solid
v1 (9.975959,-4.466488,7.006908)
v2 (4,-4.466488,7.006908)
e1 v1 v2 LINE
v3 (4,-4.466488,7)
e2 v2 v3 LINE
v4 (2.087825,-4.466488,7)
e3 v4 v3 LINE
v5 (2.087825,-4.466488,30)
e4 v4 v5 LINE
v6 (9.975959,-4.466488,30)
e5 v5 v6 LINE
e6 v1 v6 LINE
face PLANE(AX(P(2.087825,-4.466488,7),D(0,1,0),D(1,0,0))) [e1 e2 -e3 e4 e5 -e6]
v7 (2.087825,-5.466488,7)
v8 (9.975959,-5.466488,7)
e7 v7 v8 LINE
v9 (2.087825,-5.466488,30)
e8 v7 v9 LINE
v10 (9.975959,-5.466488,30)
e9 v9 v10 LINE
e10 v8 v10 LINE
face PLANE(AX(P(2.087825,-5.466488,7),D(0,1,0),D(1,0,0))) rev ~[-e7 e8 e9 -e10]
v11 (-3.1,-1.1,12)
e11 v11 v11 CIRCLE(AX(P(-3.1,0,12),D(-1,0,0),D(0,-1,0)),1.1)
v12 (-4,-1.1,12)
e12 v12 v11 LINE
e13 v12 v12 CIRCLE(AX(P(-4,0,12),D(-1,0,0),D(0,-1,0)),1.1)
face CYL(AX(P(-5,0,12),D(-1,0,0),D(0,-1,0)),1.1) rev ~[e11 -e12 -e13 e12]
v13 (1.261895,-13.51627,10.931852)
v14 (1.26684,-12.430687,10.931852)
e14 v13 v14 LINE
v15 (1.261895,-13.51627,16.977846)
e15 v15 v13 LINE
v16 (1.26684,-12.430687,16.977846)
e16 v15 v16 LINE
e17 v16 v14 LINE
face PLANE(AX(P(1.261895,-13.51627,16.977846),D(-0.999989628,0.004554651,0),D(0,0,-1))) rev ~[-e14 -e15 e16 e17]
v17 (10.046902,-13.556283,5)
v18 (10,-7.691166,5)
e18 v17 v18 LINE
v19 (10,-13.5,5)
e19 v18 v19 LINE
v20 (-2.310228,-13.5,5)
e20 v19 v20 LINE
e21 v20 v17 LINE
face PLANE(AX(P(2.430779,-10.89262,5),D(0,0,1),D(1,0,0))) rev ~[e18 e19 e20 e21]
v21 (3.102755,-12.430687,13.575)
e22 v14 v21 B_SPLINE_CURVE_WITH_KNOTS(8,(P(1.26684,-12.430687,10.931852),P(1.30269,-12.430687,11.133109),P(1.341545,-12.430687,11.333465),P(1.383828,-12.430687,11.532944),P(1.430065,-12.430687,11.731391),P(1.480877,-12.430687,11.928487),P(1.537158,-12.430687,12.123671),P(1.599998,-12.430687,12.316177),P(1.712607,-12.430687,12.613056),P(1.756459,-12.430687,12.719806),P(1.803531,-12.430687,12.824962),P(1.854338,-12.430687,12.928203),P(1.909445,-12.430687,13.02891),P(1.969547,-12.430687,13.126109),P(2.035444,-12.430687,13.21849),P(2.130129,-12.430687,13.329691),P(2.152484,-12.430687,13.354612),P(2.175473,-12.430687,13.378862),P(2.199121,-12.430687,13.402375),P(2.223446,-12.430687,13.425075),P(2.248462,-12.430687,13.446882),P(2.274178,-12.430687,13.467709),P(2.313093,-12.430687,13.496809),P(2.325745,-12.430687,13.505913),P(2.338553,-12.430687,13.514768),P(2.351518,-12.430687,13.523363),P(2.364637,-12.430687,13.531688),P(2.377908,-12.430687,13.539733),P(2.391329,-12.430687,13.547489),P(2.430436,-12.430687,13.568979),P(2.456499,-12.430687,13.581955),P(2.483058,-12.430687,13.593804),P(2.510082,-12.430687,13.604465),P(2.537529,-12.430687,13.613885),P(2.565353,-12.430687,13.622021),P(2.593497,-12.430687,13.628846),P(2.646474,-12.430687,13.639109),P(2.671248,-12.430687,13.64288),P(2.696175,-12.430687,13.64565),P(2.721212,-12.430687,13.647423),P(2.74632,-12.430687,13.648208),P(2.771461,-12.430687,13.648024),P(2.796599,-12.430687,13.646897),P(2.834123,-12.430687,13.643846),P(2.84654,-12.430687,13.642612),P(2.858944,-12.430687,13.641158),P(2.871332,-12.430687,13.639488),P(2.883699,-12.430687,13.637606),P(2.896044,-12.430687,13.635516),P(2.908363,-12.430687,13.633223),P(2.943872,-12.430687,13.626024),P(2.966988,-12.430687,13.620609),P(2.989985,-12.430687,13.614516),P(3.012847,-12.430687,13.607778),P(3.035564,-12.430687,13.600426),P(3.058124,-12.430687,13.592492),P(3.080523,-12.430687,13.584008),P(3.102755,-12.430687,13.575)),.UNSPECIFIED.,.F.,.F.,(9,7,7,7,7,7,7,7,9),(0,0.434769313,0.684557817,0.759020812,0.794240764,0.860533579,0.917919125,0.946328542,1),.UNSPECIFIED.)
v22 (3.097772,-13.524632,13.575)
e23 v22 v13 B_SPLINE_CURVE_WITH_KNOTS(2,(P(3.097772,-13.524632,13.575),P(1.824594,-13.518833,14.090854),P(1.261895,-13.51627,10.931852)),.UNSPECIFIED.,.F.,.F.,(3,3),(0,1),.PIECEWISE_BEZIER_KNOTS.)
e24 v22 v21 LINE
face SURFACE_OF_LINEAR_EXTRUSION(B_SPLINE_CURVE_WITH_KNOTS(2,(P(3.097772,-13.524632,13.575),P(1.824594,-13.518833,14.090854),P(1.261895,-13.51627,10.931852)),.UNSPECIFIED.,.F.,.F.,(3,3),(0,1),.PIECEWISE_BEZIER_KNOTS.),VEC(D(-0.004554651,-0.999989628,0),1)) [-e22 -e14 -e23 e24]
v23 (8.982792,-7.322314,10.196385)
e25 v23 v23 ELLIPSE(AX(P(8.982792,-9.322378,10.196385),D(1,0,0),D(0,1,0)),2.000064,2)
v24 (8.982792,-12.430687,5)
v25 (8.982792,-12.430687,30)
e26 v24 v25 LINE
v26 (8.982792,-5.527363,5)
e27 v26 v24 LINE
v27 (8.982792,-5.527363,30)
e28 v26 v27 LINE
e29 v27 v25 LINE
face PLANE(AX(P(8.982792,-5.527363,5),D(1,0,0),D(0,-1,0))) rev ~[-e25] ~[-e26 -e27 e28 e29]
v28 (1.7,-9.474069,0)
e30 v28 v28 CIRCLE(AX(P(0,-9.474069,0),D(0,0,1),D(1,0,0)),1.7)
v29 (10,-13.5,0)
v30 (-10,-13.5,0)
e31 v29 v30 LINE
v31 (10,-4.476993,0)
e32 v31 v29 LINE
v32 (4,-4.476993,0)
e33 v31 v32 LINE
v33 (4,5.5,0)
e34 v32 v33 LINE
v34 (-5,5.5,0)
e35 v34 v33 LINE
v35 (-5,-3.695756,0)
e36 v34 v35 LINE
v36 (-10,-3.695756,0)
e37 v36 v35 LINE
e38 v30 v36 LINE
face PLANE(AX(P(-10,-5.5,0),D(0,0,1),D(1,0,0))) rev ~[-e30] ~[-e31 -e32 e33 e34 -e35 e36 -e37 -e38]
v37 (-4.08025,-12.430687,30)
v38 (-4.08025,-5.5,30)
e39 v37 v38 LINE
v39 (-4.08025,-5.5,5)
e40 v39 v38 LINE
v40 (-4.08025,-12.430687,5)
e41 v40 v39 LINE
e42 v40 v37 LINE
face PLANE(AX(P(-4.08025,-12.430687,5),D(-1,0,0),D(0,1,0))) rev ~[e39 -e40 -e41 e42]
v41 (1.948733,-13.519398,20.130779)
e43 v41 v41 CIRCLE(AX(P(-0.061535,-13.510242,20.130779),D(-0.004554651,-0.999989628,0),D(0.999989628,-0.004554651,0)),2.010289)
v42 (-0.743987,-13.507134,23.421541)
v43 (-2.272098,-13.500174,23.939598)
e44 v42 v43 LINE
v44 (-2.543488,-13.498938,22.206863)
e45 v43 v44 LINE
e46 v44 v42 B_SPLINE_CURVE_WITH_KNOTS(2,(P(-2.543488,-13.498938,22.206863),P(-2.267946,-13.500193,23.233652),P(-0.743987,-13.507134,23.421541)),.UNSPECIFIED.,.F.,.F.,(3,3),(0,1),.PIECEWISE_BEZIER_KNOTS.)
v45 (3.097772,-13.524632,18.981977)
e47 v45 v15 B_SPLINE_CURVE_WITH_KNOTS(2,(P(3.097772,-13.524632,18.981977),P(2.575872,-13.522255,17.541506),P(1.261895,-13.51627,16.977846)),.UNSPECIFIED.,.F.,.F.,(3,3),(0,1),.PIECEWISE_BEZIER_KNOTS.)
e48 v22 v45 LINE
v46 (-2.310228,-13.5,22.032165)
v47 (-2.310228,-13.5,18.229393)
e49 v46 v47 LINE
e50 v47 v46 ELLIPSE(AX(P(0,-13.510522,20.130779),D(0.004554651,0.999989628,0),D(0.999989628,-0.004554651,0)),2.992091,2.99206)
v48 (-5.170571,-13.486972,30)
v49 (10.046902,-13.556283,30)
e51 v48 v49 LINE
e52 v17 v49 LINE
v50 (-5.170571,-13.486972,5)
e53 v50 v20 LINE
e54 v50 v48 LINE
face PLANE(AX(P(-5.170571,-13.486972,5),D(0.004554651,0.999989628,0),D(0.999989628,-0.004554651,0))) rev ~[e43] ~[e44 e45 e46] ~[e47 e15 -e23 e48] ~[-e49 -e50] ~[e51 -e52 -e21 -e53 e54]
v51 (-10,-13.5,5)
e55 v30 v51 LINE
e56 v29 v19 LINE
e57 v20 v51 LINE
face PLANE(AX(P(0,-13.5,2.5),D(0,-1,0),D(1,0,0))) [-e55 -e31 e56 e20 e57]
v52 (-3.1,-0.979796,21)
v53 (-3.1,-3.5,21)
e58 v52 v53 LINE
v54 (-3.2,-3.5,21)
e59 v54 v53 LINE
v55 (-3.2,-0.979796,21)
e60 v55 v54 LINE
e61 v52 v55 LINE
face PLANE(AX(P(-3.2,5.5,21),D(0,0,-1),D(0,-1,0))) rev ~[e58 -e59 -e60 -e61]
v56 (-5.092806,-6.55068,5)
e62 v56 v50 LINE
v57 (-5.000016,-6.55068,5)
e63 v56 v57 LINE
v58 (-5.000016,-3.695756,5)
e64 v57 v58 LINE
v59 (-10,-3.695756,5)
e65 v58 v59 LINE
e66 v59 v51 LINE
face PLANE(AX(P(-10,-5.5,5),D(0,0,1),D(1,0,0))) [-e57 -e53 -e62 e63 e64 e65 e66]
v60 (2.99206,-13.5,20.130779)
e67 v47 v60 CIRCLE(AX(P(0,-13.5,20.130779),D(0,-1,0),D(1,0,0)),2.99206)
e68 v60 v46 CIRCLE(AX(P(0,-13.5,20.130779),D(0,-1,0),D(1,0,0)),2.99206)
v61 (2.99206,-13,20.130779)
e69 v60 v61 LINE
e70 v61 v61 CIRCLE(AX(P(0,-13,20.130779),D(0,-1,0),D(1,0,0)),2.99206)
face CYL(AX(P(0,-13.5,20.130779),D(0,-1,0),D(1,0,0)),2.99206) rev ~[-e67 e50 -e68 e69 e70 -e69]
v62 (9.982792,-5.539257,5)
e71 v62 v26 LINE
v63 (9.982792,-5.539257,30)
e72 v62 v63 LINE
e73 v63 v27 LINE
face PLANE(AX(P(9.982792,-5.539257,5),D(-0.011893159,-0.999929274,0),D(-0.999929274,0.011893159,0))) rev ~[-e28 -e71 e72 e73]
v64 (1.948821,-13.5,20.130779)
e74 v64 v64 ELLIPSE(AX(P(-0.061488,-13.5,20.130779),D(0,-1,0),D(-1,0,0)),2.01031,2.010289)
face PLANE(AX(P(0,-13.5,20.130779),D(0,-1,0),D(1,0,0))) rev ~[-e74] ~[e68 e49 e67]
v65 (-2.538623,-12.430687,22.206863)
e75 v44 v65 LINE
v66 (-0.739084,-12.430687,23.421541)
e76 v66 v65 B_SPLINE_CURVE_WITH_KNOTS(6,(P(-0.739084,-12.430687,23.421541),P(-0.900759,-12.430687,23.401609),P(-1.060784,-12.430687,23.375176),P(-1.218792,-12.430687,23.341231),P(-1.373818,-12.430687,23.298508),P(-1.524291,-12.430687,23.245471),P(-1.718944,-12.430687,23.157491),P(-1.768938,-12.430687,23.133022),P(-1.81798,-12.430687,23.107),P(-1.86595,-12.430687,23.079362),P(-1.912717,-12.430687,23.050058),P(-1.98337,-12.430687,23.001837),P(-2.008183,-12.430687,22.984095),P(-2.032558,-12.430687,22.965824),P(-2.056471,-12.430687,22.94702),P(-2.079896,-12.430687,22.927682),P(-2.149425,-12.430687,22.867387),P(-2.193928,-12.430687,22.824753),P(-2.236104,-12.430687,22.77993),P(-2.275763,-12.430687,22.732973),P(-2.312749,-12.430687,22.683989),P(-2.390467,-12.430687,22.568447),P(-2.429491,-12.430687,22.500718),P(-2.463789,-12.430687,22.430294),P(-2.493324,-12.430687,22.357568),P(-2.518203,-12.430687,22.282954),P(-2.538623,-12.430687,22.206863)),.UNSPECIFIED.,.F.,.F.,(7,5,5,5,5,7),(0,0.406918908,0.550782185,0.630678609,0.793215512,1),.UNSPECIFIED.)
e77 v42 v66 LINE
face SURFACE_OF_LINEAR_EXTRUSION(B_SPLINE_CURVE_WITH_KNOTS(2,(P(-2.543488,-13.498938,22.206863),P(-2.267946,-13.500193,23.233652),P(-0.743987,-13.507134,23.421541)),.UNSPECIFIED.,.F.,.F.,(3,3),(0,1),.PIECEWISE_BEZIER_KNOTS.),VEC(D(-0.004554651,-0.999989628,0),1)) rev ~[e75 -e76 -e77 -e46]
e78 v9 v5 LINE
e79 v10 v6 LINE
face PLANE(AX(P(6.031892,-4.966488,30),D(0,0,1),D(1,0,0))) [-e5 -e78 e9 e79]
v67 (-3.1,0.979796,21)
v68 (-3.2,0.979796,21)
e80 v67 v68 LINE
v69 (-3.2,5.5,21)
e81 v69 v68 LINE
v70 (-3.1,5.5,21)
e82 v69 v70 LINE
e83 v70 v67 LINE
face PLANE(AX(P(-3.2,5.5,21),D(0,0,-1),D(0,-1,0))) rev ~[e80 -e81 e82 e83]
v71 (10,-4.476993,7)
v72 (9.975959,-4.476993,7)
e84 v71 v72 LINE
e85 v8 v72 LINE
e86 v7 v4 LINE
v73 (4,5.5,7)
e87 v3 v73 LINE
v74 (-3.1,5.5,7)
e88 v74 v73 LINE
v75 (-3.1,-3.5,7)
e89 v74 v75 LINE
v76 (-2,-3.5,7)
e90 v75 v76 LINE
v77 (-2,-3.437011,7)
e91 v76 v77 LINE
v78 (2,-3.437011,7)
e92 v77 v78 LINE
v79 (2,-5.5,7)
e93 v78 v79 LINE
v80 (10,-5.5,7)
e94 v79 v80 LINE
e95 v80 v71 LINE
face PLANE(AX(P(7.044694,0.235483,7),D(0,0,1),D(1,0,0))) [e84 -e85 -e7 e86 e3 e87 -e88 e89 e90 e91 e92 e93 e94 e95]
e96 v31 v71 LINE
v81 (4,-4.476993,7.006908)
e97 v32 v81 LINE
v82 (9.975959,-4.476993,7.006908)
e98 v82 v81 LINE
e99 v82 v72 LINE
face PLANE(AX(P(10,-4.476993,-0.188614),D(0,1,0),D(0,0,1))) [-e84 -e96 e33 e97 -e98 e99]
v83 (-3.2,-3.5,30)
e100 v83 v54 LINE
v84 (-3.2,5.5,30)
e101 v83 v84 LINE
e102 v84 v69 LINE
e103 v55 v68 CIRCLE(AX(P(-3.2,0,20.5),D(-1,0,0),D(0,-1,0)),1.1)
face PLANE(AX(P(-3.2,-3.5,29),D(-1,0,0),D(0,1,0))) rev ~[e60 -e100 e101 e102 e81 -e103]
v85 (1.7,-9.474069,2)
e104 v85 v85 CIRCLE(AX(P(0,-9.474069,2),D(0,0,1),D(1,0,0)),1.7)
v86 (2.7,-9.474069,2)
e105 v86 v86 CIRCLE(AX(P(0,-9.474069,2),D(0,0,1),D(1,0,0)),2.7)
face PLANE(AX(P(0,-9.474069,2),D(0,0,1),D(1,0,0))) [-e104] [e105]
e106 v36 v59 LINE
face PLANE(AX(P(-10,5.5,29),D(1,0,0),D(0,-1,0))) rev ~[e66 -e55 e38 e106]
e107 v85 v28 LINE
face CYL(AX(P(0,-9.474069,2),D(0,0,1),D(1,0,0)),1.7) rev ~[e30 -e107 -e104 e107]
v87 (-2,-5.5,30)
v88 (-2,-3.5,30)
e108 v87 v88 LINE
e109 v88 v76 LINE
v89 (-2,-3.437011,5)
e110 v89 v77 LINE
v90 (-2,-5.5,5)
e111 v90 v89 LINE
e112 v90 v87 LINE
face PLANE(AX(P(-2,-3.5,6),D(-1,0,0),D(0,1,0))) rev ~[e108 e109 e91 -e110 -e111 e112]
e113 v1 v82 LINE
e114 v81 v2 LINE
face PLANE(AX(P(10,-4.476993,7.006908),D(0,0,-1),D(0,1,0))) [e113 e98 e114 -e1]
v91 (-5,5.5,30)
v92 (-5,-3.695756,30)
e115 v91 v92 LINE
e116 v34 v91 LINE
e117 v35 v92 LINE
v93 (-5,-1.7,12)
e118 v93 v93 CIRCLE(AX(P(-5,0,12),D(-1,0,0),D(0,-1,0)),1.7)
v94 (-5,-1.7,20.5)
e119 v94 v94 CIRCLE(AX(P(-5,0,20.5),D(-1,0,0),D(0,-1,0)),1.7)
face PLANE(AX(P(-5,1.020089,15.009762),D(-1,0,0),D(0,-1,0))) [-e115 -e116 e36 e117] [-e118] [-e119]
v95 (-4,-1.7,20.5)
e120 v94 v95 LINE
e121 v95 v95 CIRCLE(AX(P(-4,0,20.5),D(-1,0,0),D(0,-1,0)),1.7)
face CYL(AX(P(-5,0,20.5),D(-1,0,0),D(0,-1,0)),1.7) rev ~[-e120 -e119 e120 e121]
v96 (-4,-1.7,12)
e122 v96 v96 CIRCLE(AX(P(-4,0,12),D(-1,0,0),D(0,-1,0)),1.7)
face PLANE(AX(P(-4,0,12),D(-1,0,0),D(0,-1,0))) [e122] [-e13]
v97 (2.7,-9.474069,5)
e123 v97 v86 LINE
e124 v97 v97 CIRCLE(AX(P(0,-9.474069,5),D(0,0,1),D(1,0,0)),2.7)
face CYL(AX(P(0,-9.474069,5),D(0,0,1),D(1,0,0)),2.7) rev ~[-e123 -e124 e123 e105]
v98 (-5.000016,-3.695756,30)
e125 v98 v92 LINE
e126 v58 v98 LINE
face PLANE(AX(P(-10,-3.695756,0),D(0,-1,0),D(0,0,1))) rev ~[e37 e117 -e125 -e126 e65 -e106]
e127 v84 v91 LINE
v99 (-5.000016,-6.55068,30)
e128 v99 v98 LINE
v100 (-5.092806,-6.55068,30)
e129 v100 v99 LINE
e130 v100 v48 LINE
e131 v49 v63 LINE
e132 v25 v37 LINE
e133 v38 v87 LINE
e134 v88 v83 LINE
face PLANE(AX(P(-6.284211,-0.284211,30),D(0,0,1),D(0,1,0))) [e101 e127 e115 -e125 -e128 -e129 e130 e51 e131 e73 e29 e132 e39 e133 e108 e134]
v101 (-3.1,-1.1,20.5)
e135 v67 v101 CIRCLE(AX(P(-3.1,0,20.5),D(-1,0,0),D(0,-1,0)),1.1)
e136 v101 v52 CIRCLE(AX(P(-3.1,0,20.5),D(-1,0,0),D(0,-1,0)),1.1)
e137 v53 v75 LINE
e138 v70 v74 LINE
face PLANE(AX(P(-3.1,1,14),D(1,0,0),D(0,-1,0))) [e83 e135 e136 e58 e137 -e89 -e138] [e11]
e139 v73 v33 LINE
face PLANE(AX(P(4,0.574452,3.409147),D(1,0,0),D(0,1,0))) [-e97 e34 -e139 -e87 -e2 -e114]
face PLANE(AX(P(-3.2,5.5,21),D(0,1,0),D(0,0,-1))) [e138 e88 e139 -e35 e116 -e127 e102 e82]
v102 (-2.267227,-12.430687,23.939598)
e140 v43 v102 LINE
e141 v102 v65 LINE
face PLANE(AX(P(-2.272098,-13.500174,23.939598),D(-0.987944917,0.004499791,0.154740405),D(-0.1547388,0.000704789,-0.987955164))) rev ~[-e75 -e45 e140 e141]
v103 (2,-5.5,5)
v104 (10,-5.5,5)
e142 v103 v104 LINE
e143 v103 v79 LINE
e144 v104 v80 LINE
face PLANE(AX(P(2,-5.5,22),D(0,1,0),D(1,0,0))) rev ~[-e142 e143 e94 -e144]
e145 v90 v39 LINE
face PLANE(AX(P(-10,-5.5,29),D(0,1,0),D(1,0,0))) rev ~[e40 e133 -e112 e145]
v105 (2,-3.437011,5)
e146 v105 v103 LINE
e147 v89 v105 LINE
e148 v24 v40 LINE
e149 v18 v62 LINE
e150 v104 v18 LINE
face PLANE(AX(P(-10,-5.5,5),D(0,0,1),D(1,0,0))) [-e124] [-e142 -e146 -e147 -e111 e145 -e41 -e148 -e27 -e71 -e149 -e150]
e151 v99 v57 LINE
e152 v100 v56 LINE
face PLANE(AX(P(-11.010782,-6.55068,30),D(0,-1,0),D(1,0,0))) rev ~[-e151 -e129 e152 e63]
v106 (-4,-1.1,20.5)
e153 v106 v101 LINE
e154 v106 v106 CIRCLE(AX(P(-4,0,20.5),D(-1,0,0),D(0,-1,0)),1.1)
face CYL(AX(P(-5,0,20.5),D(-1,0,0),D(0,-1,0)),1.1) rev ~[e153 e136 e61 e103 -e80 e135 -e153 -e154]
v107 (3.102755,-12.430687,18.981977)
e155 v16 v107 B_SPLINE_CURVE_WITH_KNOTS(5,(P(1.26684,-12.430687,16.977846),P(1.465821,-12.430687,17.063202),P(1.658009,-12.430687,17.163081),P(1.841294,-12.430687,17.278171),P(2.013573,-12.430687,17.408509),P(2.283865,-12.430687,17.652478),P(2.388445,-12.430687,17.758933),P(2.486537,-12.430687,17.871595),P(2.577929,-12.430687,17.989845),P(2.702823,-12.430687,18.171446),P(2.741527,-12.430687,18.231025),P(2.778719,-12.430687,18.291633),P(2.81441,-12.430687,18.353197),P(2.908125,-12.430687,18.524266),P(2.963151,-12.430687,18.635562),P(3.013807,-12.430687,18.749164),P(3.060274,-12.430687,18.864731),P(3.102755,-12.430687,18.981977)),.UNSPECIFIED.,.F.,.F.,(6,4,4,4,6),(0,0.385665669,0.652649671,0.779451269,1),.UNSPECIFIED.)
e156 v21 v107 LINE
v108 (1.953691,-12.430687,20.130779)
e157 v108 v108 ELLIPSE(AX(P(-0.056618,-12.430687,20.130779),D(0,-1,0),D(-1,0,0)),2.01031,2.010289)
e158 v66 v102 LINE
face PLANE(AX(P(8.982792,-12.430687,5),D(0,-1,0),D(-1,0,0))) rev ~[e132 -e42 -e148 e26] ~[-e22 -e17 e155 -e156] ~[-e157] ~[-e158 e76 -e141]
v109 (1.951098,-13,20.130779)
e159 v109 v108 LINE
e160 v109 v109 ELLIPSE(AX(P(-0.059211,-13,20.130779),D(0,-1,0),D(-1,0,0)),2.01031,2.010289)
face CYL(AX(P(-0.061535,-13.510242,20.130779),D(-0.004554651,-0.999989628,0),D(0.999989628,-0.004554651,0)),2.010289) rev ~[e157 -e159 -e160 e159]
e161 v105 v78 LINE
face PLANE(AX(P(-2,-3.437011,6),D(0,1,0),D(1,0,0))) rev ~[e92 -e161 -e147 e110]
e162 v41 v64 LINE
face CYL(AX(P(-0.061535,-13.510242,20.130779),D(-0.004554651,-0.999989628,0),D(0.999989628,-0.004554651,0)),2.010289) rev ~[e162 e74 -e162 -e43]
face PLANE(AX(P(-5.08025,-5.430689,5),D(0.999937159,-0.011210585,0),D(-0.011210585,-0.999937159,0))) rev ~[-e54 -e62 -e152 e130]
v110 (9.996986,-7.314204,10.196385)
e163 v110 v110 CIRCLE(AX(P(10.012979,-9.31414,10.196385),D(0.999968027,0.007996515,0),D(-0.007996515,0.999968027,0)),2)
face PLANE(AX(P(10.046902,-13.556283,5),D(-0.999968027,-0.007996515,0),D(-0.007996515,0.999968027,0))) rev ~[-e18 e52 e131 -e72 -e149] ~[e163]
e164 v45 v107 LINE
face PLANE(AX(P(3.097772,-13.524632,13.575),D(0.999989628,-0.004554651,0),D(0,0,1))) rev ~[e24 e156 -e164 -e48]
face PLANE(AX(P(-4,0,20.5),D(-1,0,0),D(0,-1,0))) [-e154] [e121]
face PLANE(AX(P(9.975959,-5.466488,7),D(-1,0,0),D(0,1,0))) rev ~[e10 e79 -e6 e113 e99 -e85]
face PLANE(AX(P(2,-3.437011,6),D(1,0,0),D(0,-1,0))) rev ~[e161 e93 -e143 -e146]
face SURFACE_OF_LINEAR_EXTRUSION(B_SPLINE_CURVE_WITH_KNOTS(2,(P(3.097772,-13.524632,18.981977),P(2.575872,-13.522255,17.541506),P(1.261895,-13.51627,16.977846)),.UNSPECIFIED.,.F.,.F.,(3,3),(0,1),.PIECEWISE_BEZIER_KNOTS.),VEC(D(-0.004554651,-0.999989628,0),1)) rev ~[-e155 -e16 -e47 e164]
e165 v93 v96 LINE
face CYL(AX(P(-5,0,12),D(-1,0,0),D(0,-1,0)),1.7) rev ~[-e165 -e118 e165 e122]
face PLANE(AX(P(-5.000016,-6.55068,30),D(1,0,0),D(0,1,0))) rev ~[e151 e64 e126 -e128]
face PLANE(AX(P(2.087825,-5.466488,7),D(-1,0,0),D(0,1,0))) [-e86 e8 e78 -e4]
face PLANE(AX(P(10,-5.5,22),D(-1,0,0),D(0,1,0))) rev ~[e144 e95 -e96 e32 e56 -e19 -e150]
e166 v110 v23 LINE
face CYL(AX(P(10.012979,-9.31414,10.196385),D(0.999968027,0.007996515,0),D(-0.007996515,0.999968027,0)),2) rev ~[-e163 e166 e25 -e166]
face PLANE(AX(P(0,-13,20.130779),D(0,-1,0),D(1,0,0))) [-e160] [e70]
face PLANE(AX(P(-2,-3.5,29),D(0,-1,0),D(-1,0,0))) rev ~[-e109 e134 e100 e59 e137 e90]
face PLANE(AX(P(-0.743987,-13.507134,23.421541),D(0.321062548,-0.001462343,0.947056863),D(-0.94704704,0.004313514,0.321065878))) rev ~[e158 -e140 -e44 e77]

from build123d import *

# Parameters (mm, degrees)
SKETCH_W           = 20
SKETCH_H           = 11
PAD_DEPTH          = 21
SKETCH001_W        = 20
SKETCH001_H        = 5
PAD001_DEPTH       = 8
SKETCH002_W        = 6.4
SKETCH002_H        = 9.70104
POCKET_DEPTH       = 16
SKETCH003_W        = 4
SKETCH003_H        = 2.091244
POCKET001_DEPTH    = 16
SKETCH005_R        = 2.7
POCKET002_DEPTH    = 3
SKETCH006_R        = 1.7
POCKET003_DEPTH    = 15
PAD002_DEPTH       = 1
PAD003_DEPTH       = 1
PAD004_DEPTH       = 8
PAD005_DEPTH       = 8
PAD006_DEPTH       = 1
PAD007_DEPTH       = 1
PAD007_FACE27_W    = 9
PAD007_FACE27_H    = 14
PAD008_DEPTH       = 0.1
PAD008_FACE24_W    = 9
PAD008_FACE24_H    = 14
PAD009_DEPTH       = 0.1
SKETCH009_W        = 11.765216
SKETCH009_H        = 12.105414
POCKET007_DEPTH    = 23
SKETCH010_W        = 8
SKETCH010_H        = 5
PAD010_DEPTH       = 6
PAD011_DEPTH       = 25
SKETCH012_W        = 7.888134
SKETCH012_H        = 1
PAD012_DEPTH       = 23
SKETCH014_R        = 2
POCKET008_DEPTH    = 5
SKETCH016_W        = 9.43169
SKETCH016_H        = 30.019524
POCKET010_DEPTH    = 5
SKETCH019_W        = 10.102889
SKETCH019_H        = 7.195522
POCKET012_DEPTH    = 6
SKETCH020_R        = 4.8264255923
POCKET014_DEPTH    = 0.5
POCKET015_DEPTH    = 2
COPYSKETCH024_R    = 1.1
POCKET017_DEPTH    = 3
SKETCH025_R        = 1.7
POCKET018_DEPTH    = 1
SKETCH026_R        = 2.010288662
POCKET019_DEPTH    = 5
COPYSKETCH027_R    = 2.99206
POCKET020_DEPTH    = 0.5
COPYSKETCH027001_W = 6.010766
COPYSKETCH027001_H = 4.360142
POCKET021_DEPTH    = 25


with BuildPart() as part:
    # Sketch → Pad (new body)
    with BuildSketch(Plane.XY):
        Rectangle(SKETCH_W, SKETCH_H)
    extrude(amount=PAD_DEPTH)

    # Sketch001 (on Face1 of Pad) → Pad001 (join)
    with BuildSketch(Plane.XZ.offset(5.5)):
        with Locations((0, 2.5)):
            Rectangle(SKETCH001_W, SKETCH001_H)
    extrude(amount=PAD001_DEPTH)

    # Sketch002 (on Face4 of Pad001) → Pocket (cut)
    with BuildSketch(Plane.XY.offset(21)):
        with Locations((0, 1.35052)):
            Rectangle(SKETCH002_W, SKETCH002_H)
    extrude(amount=-POCKET_DEPTH, mode=Mode.SUBTRACT)

    # Sketch003 (on Face4 of Pocket) → Pocket001 (cut)
    with BuildSketch(Plane.XY.offset(21)):
        with Locations((0, -4.482633)):
            Rectangle(SKETCH003_W, SKETCH003_H)
    extrude(amount=-POCKET001_DEPTH, mode=Mode.SUBTRACT)

    # Sketch005 (on Face5 of Pocket001) → Pocket002 (cut)
    with BuildSketch(Plane.XY.offset(5)):
        with Locations((0, -9.4740693718)):
            Circle(SKETCH005_R)
    extrude(amount=-POCKET002_DEPTH, mode=Mode.SUBTRACT)

    # Sketch006 (on Face24 of Pocket002) → Pocket003 (cut)
    with BuildSketch(Plane.XY.offset(2)):
        with Locations((0, -9.4740693718)):
            Circle(SKETCH006_R)
    extrude(amount=-POCKET003_DEPTH, mode=Mode.SUBTRACT)

    # Pocket003 Face21 → Pad002 (add)
    with BuildSketch(Plane(origin=(0, 1.0196321739, 5), x_dir=(0, 1, 0), z_dir=(0, 0, 1))):
        Polygon((4.4803678261, -3.2), (4.4803678261, 3.2), (-4.5196321739, 3.2), (-4.5196321739, 2), (-4.4566431739, 2), (-4.4566431739, -2), (-4.5196321739, -2), (-4.5196321739, -3.2), align=None)
    extrude(amount=PAD002_DEPTH)

    # Pad002 Face3 → Pad003 (add)
    with BuildSketch(Plane(origin=(6.4756476684, -0.1398963731, 21), x_dir=(0, 1, 0), z_dir=(0, 0, 1))):
        Polygon((-3.3601036269, 4.4756476684), (-5.3601036269, 4.4756476684), (-5.3601036269, -3.5243523316), (5.6398963731, -3.5243523316), (5.6398963731, 3.2756476684), (-3.3601036269, 3.2756476684), align=None)
    extrude(amount=PAD003_DEPTH)

    # Pad003 Face22 → Pad004 (add)
    with BuildSketch(Plane(origin=(-6.4756476684, -0.1398963731, 21), x_dir=(0, 1, 0), z_dir=(0, 0, 1))):
        Polygon((5.6398963731, -3.2756476684), (5.6398963731, 3.5243523316), (-5.3601036269, 3.5243523316), (-5.3601036269, -4.4756476684), (-3.3601036269, -4.4756476684), (-3.3601036269, -3.2756476684), align=None)
    extrude(amount=PAD004_DEPTH)

    # Pad004 Face11 → Pad005 (add)
    with BuildSketch(Plane(origin=(6.4756476684, -0.1398963731, 22), x_dir=(0, 1, 0), z_dir=(0, 0, 1))):
        Polygon((-3.3601036269, 4.4756476684), (-5.3601036269, 4.4756476684), (-5.3601036269, -3.5243523316), (5.6398963731, -3.5243523316), (5.6398963731, 3.2756476684), (-3.3601036269, 3.2756476684), align=None)
    extrude(amount=PAD005_DEPTH)

    # Pad005 Face40 → Pad006 (add)
    with BuildSketch(Plane(origin=(-6.4756476684, -0.1398963731, 29), x_dir=(0, 1, 0), z_dir=(0, 0, 1))):
        Polygon((5.6398963731, -3.2756476684), (5.6398963731, 3.5243523316), (-5.3601036269, 3.5243523316), (-5.3601036269, -4.4756476684), (-3.3601036269, -4.4756476684), (-3.3601036269, -3.2756476684), align=None)
    extrude(amount=PAD006_DEPTH)

    # Pad006 Face33 → Pad007 (add)
    with BuildSketch(Plane(origin=(0, 1.0196321739, 6), x_dir=(0, 1, 0), z_dir=(0, 0, 1))):
        Polygon((4.4803678261, -3.2), (4.4803678261, 3.2), (-4.5196321739, 3.2), (-4.5196321739, 2), (-4.4566431739, 2), (-4.4566431739, -2), (-4.5196321739, -2), (-4.5196321739, -3.2), align=None)
    extrude(amount=PAD007_DEPTH)

    # Pad007 Face27 → Pad008 (add)
    with BuildSketch(Plane(origin=(3.2, 1, 14), x_dir=(0, 1, 0), z_dir=(-1, 0, 0))):
        Rectangle(PAD007_FACE27_W, PAD007_FACE27_H)
    extrude(amount=PAD008_DEPTH)

    # Pad008 Face24 → Pad009 (add)
    with BuildSketch(Plane(origin=(-3.2, 1, 14), x_dir=(0, -1, 0), z_dir=(1, 0, 0))):
        Rectangle(PAD008_FACE24_W, PAD008_FACE24_H)
    extrude(amount=PAD009_DEPTH)

    # Sketch009 → Pocket007 (cut)
    with BuildSketch(Plane.XY.offset(30)):
        with Locations((7.044694, 0.235483)):
            Rectangle(SKETCH009_W, SKETCH009_H)
    extrude(amount=-POCKET007_DEPTH, mode=Mode.SUBTRACT)

    # Sketch010 → Pad010 (join)
    with BuildSketch(Plane(origin=(-4, 0, 0), x_dir=(0, -1, 0), z_dir=(-1, 0, 0))):
        with Locations((9.5, 2.5)):
            Rectangle(SKETCH010_W, SKETCH010_H)
    extrude(amount=PAD010_DEPTH)

    # Sketch011 (on Face16 of Pad010) → Pad011 (join)
    with BuildSketch(Plane.XY.offset(5)):
        Polygon((-5.0802496781, -5.4306888829), (-5.170571, -13.486972), (10.046902, -13.556283), (9.9827916781, -5.539257), (8.9827916781, -5.527363), (8.9827916781, -12.430687), (-4.0802496781, -12.430687), (-4.0802496781, -5.4306871171), align=None)
    extrude(amount=PAD011_DEPTH)

    # Sketch012 (on Face3 of Pad011) → Pad012 (join)
    with BuildSketch(Plane.XY.offset(7)):
        with Locations((6.031892, -4.9664883219)):
            Rectangle(SKETCH012_W, SKETCH012_H)
    extrude(amount=PAD012_DEPTH)

    # Sketch014 (on Face24 of Pad012) → Pocket008 (cut)
    with BuildSketch(Plane(origin=(9.9378599981, 0.0794707917, 0), x_dir=(-0.0079965154, 0.9999680274, 0), z_dir=(0.9999680274, 0.0079965154, 0))):
        with Locations((-9.393911, 10.196385)):
            Circle(SKETCH014_R)
    extrude(amount=-POCKET008_DEPTH, mode=Mode.SUBTRACT)

    # Sketch016 → Pocket010 (cut)
    with BuildSketch(Plane(origin=(-10, 0, 0), x_dir=(0, -1, 0), z_dir=(-1, 0, 0))):
        with Locations((-1.020089, 15.009762)):
            Rectangle(SKETCH016_W, SKETCH016_H)
    extrude(amount=-POCKET010_DEPTH, mode=Mode.SUBTRACT)

    # Sketch019 → Pocket012 (cut)
    with BuildSketch(Plane.YZ.offset(10)):
        with Locations((0.5744515, 3.409147)):
            Rectangle(SKETCH019_W, SKETCH019_H)
    extrude(amount=-POCKET012_DEPTH, mode=Mode.SUBTRACT)

    # Sketch020 → Pocket014 (cut)
    with BuildSketch(Plane.XY.offset(2)):
        with Locations((-0.021918, 17.928259)):
            Circle(SKETCH020_R)
    extrude(amount=-POCKET014_DEPTH, mode=Mode.SUBTRACT)

    # Sketch022 (on Face189 of Pocket014) → Pocket015 (cut)
    with BuildSketch(Plane.XY.offset(2)):
        with BuildLine():
            add(Edge.make_bspline(
                [(-1.975646, 22.546564), (-3.685938, 22.005808), (-4.331799, 20.570465)],
                knots=[0, 0, 0, 1, 1, 1], degree=2))
            Line((-4.331799, 20.570465), (-4.136705, 22.627766))
            Line((-4.136705, 22.627766), (-1.975646, 22.546564))
        make_face()
    extrude(amount=-POCKET015_DEPTH, mode=Mode.SUBTRACT)

    # CopySketch024 → Pocket017 (cut)
    with BuildSketch(Plane(origin=(-5, 0, 0), x_dir=(0, -1, 0), z_dir=(-1, 0, 0))):
        with Locations((0, 12)):
            Circle(COPYSKETCH024_R)
        with Locations((0, 20.5)):
            Circle(COPYSKETCH024_R)
    extrude(amount=-POCKET017_DEPTH, mode=Mode.SUBTRACT)

    # Sketch025 (on Face29 of Pocket017) → Pocket018 (cut)
    with BuildSketch(Plane(origin=(-5, 0, 0), x_dir=(0, -1, 0), z_dir=(-1, 0, 0))):
        with Locations((0, 20.5)):
            Circle(SKETCH025_R)
        with Locations((0, 12)):
            Circle(SKETCH025_R)
    extrude(amount=-POCKET018_DEPTH, mode=Mode.SUBTRACT)

    # Sketch026 (on Face48 of Pocket018) → Pocket019 (cut)
    with BuildSketch(Plane(origin=(-0.0615350782, -13.5102421178, 0), x_dir=(0.9999896275, -0.0045546512, 0), z_dir=(-0.0045546512, -0.9999896275, 0))):
        with Locations((0, 20.130779)):
            Circle(SKETCH026_R)
        with BuildLine():
            add(Edge.make_bspline(
                [(3.15934, 18.981977), (2.637434, 17.541506), (1.323444, 16.977846)],
                knots=[0, 0, 0, 1, 1, 1], degree=2))
            Line((1.323444, 16.977846), (1.323444, 10.931852))
            add(Edge.make_bspline(
                [(3.15934, 13.575), (1.886149, 14.090854), (1.323444, 10.931852)],
                knots=[0, 0, 0, 1, 1, 1], degree=2))
            Line((3.15934, 13.575), (3.15934, 18.981977))
        make_face()
        with BuildLine():
            add(Edge.make_bspline(
                [(-2.481979, 22.206863), (-2.206434, 23.233652), (-0.682459, 23.421541)],
                knots=[0, 0, 0, 1, 1, 1], degree=2))
            Line((-0.682459, 23.421541), (-2.210586, 23.939598))
            Line((-2.210586, 23.939598), (-2.481979, 22.206863))
        make_face()
    extrude(amount=-POCKET019_DEPTH, mode=Mode.SUBTRACT)

    # CopySketch027 → Pocket020 (cut)
    with BuildSketch(Plane.XZ.offset(13.5)):
        with Locations((0, 20.130779)):
            Circle(COPYSKETCH027_R)
    extrude(amount=-POCKET020_DEPTH, mode=Mode.SUBTRACT)

    # CopySketch027001 → Pocket021 (cut)
    with BuildSketch(Plane.XY.offset(30)):
        with Locations((-8.005399, -4.370609)):
            Rectangle(COPYSKETCH027001_W, COPYSKETCH027001_H)
    extrude(amount=-POCKET021_DEPTH, mode=Mode.SUBTRACT)


solid = part.part
